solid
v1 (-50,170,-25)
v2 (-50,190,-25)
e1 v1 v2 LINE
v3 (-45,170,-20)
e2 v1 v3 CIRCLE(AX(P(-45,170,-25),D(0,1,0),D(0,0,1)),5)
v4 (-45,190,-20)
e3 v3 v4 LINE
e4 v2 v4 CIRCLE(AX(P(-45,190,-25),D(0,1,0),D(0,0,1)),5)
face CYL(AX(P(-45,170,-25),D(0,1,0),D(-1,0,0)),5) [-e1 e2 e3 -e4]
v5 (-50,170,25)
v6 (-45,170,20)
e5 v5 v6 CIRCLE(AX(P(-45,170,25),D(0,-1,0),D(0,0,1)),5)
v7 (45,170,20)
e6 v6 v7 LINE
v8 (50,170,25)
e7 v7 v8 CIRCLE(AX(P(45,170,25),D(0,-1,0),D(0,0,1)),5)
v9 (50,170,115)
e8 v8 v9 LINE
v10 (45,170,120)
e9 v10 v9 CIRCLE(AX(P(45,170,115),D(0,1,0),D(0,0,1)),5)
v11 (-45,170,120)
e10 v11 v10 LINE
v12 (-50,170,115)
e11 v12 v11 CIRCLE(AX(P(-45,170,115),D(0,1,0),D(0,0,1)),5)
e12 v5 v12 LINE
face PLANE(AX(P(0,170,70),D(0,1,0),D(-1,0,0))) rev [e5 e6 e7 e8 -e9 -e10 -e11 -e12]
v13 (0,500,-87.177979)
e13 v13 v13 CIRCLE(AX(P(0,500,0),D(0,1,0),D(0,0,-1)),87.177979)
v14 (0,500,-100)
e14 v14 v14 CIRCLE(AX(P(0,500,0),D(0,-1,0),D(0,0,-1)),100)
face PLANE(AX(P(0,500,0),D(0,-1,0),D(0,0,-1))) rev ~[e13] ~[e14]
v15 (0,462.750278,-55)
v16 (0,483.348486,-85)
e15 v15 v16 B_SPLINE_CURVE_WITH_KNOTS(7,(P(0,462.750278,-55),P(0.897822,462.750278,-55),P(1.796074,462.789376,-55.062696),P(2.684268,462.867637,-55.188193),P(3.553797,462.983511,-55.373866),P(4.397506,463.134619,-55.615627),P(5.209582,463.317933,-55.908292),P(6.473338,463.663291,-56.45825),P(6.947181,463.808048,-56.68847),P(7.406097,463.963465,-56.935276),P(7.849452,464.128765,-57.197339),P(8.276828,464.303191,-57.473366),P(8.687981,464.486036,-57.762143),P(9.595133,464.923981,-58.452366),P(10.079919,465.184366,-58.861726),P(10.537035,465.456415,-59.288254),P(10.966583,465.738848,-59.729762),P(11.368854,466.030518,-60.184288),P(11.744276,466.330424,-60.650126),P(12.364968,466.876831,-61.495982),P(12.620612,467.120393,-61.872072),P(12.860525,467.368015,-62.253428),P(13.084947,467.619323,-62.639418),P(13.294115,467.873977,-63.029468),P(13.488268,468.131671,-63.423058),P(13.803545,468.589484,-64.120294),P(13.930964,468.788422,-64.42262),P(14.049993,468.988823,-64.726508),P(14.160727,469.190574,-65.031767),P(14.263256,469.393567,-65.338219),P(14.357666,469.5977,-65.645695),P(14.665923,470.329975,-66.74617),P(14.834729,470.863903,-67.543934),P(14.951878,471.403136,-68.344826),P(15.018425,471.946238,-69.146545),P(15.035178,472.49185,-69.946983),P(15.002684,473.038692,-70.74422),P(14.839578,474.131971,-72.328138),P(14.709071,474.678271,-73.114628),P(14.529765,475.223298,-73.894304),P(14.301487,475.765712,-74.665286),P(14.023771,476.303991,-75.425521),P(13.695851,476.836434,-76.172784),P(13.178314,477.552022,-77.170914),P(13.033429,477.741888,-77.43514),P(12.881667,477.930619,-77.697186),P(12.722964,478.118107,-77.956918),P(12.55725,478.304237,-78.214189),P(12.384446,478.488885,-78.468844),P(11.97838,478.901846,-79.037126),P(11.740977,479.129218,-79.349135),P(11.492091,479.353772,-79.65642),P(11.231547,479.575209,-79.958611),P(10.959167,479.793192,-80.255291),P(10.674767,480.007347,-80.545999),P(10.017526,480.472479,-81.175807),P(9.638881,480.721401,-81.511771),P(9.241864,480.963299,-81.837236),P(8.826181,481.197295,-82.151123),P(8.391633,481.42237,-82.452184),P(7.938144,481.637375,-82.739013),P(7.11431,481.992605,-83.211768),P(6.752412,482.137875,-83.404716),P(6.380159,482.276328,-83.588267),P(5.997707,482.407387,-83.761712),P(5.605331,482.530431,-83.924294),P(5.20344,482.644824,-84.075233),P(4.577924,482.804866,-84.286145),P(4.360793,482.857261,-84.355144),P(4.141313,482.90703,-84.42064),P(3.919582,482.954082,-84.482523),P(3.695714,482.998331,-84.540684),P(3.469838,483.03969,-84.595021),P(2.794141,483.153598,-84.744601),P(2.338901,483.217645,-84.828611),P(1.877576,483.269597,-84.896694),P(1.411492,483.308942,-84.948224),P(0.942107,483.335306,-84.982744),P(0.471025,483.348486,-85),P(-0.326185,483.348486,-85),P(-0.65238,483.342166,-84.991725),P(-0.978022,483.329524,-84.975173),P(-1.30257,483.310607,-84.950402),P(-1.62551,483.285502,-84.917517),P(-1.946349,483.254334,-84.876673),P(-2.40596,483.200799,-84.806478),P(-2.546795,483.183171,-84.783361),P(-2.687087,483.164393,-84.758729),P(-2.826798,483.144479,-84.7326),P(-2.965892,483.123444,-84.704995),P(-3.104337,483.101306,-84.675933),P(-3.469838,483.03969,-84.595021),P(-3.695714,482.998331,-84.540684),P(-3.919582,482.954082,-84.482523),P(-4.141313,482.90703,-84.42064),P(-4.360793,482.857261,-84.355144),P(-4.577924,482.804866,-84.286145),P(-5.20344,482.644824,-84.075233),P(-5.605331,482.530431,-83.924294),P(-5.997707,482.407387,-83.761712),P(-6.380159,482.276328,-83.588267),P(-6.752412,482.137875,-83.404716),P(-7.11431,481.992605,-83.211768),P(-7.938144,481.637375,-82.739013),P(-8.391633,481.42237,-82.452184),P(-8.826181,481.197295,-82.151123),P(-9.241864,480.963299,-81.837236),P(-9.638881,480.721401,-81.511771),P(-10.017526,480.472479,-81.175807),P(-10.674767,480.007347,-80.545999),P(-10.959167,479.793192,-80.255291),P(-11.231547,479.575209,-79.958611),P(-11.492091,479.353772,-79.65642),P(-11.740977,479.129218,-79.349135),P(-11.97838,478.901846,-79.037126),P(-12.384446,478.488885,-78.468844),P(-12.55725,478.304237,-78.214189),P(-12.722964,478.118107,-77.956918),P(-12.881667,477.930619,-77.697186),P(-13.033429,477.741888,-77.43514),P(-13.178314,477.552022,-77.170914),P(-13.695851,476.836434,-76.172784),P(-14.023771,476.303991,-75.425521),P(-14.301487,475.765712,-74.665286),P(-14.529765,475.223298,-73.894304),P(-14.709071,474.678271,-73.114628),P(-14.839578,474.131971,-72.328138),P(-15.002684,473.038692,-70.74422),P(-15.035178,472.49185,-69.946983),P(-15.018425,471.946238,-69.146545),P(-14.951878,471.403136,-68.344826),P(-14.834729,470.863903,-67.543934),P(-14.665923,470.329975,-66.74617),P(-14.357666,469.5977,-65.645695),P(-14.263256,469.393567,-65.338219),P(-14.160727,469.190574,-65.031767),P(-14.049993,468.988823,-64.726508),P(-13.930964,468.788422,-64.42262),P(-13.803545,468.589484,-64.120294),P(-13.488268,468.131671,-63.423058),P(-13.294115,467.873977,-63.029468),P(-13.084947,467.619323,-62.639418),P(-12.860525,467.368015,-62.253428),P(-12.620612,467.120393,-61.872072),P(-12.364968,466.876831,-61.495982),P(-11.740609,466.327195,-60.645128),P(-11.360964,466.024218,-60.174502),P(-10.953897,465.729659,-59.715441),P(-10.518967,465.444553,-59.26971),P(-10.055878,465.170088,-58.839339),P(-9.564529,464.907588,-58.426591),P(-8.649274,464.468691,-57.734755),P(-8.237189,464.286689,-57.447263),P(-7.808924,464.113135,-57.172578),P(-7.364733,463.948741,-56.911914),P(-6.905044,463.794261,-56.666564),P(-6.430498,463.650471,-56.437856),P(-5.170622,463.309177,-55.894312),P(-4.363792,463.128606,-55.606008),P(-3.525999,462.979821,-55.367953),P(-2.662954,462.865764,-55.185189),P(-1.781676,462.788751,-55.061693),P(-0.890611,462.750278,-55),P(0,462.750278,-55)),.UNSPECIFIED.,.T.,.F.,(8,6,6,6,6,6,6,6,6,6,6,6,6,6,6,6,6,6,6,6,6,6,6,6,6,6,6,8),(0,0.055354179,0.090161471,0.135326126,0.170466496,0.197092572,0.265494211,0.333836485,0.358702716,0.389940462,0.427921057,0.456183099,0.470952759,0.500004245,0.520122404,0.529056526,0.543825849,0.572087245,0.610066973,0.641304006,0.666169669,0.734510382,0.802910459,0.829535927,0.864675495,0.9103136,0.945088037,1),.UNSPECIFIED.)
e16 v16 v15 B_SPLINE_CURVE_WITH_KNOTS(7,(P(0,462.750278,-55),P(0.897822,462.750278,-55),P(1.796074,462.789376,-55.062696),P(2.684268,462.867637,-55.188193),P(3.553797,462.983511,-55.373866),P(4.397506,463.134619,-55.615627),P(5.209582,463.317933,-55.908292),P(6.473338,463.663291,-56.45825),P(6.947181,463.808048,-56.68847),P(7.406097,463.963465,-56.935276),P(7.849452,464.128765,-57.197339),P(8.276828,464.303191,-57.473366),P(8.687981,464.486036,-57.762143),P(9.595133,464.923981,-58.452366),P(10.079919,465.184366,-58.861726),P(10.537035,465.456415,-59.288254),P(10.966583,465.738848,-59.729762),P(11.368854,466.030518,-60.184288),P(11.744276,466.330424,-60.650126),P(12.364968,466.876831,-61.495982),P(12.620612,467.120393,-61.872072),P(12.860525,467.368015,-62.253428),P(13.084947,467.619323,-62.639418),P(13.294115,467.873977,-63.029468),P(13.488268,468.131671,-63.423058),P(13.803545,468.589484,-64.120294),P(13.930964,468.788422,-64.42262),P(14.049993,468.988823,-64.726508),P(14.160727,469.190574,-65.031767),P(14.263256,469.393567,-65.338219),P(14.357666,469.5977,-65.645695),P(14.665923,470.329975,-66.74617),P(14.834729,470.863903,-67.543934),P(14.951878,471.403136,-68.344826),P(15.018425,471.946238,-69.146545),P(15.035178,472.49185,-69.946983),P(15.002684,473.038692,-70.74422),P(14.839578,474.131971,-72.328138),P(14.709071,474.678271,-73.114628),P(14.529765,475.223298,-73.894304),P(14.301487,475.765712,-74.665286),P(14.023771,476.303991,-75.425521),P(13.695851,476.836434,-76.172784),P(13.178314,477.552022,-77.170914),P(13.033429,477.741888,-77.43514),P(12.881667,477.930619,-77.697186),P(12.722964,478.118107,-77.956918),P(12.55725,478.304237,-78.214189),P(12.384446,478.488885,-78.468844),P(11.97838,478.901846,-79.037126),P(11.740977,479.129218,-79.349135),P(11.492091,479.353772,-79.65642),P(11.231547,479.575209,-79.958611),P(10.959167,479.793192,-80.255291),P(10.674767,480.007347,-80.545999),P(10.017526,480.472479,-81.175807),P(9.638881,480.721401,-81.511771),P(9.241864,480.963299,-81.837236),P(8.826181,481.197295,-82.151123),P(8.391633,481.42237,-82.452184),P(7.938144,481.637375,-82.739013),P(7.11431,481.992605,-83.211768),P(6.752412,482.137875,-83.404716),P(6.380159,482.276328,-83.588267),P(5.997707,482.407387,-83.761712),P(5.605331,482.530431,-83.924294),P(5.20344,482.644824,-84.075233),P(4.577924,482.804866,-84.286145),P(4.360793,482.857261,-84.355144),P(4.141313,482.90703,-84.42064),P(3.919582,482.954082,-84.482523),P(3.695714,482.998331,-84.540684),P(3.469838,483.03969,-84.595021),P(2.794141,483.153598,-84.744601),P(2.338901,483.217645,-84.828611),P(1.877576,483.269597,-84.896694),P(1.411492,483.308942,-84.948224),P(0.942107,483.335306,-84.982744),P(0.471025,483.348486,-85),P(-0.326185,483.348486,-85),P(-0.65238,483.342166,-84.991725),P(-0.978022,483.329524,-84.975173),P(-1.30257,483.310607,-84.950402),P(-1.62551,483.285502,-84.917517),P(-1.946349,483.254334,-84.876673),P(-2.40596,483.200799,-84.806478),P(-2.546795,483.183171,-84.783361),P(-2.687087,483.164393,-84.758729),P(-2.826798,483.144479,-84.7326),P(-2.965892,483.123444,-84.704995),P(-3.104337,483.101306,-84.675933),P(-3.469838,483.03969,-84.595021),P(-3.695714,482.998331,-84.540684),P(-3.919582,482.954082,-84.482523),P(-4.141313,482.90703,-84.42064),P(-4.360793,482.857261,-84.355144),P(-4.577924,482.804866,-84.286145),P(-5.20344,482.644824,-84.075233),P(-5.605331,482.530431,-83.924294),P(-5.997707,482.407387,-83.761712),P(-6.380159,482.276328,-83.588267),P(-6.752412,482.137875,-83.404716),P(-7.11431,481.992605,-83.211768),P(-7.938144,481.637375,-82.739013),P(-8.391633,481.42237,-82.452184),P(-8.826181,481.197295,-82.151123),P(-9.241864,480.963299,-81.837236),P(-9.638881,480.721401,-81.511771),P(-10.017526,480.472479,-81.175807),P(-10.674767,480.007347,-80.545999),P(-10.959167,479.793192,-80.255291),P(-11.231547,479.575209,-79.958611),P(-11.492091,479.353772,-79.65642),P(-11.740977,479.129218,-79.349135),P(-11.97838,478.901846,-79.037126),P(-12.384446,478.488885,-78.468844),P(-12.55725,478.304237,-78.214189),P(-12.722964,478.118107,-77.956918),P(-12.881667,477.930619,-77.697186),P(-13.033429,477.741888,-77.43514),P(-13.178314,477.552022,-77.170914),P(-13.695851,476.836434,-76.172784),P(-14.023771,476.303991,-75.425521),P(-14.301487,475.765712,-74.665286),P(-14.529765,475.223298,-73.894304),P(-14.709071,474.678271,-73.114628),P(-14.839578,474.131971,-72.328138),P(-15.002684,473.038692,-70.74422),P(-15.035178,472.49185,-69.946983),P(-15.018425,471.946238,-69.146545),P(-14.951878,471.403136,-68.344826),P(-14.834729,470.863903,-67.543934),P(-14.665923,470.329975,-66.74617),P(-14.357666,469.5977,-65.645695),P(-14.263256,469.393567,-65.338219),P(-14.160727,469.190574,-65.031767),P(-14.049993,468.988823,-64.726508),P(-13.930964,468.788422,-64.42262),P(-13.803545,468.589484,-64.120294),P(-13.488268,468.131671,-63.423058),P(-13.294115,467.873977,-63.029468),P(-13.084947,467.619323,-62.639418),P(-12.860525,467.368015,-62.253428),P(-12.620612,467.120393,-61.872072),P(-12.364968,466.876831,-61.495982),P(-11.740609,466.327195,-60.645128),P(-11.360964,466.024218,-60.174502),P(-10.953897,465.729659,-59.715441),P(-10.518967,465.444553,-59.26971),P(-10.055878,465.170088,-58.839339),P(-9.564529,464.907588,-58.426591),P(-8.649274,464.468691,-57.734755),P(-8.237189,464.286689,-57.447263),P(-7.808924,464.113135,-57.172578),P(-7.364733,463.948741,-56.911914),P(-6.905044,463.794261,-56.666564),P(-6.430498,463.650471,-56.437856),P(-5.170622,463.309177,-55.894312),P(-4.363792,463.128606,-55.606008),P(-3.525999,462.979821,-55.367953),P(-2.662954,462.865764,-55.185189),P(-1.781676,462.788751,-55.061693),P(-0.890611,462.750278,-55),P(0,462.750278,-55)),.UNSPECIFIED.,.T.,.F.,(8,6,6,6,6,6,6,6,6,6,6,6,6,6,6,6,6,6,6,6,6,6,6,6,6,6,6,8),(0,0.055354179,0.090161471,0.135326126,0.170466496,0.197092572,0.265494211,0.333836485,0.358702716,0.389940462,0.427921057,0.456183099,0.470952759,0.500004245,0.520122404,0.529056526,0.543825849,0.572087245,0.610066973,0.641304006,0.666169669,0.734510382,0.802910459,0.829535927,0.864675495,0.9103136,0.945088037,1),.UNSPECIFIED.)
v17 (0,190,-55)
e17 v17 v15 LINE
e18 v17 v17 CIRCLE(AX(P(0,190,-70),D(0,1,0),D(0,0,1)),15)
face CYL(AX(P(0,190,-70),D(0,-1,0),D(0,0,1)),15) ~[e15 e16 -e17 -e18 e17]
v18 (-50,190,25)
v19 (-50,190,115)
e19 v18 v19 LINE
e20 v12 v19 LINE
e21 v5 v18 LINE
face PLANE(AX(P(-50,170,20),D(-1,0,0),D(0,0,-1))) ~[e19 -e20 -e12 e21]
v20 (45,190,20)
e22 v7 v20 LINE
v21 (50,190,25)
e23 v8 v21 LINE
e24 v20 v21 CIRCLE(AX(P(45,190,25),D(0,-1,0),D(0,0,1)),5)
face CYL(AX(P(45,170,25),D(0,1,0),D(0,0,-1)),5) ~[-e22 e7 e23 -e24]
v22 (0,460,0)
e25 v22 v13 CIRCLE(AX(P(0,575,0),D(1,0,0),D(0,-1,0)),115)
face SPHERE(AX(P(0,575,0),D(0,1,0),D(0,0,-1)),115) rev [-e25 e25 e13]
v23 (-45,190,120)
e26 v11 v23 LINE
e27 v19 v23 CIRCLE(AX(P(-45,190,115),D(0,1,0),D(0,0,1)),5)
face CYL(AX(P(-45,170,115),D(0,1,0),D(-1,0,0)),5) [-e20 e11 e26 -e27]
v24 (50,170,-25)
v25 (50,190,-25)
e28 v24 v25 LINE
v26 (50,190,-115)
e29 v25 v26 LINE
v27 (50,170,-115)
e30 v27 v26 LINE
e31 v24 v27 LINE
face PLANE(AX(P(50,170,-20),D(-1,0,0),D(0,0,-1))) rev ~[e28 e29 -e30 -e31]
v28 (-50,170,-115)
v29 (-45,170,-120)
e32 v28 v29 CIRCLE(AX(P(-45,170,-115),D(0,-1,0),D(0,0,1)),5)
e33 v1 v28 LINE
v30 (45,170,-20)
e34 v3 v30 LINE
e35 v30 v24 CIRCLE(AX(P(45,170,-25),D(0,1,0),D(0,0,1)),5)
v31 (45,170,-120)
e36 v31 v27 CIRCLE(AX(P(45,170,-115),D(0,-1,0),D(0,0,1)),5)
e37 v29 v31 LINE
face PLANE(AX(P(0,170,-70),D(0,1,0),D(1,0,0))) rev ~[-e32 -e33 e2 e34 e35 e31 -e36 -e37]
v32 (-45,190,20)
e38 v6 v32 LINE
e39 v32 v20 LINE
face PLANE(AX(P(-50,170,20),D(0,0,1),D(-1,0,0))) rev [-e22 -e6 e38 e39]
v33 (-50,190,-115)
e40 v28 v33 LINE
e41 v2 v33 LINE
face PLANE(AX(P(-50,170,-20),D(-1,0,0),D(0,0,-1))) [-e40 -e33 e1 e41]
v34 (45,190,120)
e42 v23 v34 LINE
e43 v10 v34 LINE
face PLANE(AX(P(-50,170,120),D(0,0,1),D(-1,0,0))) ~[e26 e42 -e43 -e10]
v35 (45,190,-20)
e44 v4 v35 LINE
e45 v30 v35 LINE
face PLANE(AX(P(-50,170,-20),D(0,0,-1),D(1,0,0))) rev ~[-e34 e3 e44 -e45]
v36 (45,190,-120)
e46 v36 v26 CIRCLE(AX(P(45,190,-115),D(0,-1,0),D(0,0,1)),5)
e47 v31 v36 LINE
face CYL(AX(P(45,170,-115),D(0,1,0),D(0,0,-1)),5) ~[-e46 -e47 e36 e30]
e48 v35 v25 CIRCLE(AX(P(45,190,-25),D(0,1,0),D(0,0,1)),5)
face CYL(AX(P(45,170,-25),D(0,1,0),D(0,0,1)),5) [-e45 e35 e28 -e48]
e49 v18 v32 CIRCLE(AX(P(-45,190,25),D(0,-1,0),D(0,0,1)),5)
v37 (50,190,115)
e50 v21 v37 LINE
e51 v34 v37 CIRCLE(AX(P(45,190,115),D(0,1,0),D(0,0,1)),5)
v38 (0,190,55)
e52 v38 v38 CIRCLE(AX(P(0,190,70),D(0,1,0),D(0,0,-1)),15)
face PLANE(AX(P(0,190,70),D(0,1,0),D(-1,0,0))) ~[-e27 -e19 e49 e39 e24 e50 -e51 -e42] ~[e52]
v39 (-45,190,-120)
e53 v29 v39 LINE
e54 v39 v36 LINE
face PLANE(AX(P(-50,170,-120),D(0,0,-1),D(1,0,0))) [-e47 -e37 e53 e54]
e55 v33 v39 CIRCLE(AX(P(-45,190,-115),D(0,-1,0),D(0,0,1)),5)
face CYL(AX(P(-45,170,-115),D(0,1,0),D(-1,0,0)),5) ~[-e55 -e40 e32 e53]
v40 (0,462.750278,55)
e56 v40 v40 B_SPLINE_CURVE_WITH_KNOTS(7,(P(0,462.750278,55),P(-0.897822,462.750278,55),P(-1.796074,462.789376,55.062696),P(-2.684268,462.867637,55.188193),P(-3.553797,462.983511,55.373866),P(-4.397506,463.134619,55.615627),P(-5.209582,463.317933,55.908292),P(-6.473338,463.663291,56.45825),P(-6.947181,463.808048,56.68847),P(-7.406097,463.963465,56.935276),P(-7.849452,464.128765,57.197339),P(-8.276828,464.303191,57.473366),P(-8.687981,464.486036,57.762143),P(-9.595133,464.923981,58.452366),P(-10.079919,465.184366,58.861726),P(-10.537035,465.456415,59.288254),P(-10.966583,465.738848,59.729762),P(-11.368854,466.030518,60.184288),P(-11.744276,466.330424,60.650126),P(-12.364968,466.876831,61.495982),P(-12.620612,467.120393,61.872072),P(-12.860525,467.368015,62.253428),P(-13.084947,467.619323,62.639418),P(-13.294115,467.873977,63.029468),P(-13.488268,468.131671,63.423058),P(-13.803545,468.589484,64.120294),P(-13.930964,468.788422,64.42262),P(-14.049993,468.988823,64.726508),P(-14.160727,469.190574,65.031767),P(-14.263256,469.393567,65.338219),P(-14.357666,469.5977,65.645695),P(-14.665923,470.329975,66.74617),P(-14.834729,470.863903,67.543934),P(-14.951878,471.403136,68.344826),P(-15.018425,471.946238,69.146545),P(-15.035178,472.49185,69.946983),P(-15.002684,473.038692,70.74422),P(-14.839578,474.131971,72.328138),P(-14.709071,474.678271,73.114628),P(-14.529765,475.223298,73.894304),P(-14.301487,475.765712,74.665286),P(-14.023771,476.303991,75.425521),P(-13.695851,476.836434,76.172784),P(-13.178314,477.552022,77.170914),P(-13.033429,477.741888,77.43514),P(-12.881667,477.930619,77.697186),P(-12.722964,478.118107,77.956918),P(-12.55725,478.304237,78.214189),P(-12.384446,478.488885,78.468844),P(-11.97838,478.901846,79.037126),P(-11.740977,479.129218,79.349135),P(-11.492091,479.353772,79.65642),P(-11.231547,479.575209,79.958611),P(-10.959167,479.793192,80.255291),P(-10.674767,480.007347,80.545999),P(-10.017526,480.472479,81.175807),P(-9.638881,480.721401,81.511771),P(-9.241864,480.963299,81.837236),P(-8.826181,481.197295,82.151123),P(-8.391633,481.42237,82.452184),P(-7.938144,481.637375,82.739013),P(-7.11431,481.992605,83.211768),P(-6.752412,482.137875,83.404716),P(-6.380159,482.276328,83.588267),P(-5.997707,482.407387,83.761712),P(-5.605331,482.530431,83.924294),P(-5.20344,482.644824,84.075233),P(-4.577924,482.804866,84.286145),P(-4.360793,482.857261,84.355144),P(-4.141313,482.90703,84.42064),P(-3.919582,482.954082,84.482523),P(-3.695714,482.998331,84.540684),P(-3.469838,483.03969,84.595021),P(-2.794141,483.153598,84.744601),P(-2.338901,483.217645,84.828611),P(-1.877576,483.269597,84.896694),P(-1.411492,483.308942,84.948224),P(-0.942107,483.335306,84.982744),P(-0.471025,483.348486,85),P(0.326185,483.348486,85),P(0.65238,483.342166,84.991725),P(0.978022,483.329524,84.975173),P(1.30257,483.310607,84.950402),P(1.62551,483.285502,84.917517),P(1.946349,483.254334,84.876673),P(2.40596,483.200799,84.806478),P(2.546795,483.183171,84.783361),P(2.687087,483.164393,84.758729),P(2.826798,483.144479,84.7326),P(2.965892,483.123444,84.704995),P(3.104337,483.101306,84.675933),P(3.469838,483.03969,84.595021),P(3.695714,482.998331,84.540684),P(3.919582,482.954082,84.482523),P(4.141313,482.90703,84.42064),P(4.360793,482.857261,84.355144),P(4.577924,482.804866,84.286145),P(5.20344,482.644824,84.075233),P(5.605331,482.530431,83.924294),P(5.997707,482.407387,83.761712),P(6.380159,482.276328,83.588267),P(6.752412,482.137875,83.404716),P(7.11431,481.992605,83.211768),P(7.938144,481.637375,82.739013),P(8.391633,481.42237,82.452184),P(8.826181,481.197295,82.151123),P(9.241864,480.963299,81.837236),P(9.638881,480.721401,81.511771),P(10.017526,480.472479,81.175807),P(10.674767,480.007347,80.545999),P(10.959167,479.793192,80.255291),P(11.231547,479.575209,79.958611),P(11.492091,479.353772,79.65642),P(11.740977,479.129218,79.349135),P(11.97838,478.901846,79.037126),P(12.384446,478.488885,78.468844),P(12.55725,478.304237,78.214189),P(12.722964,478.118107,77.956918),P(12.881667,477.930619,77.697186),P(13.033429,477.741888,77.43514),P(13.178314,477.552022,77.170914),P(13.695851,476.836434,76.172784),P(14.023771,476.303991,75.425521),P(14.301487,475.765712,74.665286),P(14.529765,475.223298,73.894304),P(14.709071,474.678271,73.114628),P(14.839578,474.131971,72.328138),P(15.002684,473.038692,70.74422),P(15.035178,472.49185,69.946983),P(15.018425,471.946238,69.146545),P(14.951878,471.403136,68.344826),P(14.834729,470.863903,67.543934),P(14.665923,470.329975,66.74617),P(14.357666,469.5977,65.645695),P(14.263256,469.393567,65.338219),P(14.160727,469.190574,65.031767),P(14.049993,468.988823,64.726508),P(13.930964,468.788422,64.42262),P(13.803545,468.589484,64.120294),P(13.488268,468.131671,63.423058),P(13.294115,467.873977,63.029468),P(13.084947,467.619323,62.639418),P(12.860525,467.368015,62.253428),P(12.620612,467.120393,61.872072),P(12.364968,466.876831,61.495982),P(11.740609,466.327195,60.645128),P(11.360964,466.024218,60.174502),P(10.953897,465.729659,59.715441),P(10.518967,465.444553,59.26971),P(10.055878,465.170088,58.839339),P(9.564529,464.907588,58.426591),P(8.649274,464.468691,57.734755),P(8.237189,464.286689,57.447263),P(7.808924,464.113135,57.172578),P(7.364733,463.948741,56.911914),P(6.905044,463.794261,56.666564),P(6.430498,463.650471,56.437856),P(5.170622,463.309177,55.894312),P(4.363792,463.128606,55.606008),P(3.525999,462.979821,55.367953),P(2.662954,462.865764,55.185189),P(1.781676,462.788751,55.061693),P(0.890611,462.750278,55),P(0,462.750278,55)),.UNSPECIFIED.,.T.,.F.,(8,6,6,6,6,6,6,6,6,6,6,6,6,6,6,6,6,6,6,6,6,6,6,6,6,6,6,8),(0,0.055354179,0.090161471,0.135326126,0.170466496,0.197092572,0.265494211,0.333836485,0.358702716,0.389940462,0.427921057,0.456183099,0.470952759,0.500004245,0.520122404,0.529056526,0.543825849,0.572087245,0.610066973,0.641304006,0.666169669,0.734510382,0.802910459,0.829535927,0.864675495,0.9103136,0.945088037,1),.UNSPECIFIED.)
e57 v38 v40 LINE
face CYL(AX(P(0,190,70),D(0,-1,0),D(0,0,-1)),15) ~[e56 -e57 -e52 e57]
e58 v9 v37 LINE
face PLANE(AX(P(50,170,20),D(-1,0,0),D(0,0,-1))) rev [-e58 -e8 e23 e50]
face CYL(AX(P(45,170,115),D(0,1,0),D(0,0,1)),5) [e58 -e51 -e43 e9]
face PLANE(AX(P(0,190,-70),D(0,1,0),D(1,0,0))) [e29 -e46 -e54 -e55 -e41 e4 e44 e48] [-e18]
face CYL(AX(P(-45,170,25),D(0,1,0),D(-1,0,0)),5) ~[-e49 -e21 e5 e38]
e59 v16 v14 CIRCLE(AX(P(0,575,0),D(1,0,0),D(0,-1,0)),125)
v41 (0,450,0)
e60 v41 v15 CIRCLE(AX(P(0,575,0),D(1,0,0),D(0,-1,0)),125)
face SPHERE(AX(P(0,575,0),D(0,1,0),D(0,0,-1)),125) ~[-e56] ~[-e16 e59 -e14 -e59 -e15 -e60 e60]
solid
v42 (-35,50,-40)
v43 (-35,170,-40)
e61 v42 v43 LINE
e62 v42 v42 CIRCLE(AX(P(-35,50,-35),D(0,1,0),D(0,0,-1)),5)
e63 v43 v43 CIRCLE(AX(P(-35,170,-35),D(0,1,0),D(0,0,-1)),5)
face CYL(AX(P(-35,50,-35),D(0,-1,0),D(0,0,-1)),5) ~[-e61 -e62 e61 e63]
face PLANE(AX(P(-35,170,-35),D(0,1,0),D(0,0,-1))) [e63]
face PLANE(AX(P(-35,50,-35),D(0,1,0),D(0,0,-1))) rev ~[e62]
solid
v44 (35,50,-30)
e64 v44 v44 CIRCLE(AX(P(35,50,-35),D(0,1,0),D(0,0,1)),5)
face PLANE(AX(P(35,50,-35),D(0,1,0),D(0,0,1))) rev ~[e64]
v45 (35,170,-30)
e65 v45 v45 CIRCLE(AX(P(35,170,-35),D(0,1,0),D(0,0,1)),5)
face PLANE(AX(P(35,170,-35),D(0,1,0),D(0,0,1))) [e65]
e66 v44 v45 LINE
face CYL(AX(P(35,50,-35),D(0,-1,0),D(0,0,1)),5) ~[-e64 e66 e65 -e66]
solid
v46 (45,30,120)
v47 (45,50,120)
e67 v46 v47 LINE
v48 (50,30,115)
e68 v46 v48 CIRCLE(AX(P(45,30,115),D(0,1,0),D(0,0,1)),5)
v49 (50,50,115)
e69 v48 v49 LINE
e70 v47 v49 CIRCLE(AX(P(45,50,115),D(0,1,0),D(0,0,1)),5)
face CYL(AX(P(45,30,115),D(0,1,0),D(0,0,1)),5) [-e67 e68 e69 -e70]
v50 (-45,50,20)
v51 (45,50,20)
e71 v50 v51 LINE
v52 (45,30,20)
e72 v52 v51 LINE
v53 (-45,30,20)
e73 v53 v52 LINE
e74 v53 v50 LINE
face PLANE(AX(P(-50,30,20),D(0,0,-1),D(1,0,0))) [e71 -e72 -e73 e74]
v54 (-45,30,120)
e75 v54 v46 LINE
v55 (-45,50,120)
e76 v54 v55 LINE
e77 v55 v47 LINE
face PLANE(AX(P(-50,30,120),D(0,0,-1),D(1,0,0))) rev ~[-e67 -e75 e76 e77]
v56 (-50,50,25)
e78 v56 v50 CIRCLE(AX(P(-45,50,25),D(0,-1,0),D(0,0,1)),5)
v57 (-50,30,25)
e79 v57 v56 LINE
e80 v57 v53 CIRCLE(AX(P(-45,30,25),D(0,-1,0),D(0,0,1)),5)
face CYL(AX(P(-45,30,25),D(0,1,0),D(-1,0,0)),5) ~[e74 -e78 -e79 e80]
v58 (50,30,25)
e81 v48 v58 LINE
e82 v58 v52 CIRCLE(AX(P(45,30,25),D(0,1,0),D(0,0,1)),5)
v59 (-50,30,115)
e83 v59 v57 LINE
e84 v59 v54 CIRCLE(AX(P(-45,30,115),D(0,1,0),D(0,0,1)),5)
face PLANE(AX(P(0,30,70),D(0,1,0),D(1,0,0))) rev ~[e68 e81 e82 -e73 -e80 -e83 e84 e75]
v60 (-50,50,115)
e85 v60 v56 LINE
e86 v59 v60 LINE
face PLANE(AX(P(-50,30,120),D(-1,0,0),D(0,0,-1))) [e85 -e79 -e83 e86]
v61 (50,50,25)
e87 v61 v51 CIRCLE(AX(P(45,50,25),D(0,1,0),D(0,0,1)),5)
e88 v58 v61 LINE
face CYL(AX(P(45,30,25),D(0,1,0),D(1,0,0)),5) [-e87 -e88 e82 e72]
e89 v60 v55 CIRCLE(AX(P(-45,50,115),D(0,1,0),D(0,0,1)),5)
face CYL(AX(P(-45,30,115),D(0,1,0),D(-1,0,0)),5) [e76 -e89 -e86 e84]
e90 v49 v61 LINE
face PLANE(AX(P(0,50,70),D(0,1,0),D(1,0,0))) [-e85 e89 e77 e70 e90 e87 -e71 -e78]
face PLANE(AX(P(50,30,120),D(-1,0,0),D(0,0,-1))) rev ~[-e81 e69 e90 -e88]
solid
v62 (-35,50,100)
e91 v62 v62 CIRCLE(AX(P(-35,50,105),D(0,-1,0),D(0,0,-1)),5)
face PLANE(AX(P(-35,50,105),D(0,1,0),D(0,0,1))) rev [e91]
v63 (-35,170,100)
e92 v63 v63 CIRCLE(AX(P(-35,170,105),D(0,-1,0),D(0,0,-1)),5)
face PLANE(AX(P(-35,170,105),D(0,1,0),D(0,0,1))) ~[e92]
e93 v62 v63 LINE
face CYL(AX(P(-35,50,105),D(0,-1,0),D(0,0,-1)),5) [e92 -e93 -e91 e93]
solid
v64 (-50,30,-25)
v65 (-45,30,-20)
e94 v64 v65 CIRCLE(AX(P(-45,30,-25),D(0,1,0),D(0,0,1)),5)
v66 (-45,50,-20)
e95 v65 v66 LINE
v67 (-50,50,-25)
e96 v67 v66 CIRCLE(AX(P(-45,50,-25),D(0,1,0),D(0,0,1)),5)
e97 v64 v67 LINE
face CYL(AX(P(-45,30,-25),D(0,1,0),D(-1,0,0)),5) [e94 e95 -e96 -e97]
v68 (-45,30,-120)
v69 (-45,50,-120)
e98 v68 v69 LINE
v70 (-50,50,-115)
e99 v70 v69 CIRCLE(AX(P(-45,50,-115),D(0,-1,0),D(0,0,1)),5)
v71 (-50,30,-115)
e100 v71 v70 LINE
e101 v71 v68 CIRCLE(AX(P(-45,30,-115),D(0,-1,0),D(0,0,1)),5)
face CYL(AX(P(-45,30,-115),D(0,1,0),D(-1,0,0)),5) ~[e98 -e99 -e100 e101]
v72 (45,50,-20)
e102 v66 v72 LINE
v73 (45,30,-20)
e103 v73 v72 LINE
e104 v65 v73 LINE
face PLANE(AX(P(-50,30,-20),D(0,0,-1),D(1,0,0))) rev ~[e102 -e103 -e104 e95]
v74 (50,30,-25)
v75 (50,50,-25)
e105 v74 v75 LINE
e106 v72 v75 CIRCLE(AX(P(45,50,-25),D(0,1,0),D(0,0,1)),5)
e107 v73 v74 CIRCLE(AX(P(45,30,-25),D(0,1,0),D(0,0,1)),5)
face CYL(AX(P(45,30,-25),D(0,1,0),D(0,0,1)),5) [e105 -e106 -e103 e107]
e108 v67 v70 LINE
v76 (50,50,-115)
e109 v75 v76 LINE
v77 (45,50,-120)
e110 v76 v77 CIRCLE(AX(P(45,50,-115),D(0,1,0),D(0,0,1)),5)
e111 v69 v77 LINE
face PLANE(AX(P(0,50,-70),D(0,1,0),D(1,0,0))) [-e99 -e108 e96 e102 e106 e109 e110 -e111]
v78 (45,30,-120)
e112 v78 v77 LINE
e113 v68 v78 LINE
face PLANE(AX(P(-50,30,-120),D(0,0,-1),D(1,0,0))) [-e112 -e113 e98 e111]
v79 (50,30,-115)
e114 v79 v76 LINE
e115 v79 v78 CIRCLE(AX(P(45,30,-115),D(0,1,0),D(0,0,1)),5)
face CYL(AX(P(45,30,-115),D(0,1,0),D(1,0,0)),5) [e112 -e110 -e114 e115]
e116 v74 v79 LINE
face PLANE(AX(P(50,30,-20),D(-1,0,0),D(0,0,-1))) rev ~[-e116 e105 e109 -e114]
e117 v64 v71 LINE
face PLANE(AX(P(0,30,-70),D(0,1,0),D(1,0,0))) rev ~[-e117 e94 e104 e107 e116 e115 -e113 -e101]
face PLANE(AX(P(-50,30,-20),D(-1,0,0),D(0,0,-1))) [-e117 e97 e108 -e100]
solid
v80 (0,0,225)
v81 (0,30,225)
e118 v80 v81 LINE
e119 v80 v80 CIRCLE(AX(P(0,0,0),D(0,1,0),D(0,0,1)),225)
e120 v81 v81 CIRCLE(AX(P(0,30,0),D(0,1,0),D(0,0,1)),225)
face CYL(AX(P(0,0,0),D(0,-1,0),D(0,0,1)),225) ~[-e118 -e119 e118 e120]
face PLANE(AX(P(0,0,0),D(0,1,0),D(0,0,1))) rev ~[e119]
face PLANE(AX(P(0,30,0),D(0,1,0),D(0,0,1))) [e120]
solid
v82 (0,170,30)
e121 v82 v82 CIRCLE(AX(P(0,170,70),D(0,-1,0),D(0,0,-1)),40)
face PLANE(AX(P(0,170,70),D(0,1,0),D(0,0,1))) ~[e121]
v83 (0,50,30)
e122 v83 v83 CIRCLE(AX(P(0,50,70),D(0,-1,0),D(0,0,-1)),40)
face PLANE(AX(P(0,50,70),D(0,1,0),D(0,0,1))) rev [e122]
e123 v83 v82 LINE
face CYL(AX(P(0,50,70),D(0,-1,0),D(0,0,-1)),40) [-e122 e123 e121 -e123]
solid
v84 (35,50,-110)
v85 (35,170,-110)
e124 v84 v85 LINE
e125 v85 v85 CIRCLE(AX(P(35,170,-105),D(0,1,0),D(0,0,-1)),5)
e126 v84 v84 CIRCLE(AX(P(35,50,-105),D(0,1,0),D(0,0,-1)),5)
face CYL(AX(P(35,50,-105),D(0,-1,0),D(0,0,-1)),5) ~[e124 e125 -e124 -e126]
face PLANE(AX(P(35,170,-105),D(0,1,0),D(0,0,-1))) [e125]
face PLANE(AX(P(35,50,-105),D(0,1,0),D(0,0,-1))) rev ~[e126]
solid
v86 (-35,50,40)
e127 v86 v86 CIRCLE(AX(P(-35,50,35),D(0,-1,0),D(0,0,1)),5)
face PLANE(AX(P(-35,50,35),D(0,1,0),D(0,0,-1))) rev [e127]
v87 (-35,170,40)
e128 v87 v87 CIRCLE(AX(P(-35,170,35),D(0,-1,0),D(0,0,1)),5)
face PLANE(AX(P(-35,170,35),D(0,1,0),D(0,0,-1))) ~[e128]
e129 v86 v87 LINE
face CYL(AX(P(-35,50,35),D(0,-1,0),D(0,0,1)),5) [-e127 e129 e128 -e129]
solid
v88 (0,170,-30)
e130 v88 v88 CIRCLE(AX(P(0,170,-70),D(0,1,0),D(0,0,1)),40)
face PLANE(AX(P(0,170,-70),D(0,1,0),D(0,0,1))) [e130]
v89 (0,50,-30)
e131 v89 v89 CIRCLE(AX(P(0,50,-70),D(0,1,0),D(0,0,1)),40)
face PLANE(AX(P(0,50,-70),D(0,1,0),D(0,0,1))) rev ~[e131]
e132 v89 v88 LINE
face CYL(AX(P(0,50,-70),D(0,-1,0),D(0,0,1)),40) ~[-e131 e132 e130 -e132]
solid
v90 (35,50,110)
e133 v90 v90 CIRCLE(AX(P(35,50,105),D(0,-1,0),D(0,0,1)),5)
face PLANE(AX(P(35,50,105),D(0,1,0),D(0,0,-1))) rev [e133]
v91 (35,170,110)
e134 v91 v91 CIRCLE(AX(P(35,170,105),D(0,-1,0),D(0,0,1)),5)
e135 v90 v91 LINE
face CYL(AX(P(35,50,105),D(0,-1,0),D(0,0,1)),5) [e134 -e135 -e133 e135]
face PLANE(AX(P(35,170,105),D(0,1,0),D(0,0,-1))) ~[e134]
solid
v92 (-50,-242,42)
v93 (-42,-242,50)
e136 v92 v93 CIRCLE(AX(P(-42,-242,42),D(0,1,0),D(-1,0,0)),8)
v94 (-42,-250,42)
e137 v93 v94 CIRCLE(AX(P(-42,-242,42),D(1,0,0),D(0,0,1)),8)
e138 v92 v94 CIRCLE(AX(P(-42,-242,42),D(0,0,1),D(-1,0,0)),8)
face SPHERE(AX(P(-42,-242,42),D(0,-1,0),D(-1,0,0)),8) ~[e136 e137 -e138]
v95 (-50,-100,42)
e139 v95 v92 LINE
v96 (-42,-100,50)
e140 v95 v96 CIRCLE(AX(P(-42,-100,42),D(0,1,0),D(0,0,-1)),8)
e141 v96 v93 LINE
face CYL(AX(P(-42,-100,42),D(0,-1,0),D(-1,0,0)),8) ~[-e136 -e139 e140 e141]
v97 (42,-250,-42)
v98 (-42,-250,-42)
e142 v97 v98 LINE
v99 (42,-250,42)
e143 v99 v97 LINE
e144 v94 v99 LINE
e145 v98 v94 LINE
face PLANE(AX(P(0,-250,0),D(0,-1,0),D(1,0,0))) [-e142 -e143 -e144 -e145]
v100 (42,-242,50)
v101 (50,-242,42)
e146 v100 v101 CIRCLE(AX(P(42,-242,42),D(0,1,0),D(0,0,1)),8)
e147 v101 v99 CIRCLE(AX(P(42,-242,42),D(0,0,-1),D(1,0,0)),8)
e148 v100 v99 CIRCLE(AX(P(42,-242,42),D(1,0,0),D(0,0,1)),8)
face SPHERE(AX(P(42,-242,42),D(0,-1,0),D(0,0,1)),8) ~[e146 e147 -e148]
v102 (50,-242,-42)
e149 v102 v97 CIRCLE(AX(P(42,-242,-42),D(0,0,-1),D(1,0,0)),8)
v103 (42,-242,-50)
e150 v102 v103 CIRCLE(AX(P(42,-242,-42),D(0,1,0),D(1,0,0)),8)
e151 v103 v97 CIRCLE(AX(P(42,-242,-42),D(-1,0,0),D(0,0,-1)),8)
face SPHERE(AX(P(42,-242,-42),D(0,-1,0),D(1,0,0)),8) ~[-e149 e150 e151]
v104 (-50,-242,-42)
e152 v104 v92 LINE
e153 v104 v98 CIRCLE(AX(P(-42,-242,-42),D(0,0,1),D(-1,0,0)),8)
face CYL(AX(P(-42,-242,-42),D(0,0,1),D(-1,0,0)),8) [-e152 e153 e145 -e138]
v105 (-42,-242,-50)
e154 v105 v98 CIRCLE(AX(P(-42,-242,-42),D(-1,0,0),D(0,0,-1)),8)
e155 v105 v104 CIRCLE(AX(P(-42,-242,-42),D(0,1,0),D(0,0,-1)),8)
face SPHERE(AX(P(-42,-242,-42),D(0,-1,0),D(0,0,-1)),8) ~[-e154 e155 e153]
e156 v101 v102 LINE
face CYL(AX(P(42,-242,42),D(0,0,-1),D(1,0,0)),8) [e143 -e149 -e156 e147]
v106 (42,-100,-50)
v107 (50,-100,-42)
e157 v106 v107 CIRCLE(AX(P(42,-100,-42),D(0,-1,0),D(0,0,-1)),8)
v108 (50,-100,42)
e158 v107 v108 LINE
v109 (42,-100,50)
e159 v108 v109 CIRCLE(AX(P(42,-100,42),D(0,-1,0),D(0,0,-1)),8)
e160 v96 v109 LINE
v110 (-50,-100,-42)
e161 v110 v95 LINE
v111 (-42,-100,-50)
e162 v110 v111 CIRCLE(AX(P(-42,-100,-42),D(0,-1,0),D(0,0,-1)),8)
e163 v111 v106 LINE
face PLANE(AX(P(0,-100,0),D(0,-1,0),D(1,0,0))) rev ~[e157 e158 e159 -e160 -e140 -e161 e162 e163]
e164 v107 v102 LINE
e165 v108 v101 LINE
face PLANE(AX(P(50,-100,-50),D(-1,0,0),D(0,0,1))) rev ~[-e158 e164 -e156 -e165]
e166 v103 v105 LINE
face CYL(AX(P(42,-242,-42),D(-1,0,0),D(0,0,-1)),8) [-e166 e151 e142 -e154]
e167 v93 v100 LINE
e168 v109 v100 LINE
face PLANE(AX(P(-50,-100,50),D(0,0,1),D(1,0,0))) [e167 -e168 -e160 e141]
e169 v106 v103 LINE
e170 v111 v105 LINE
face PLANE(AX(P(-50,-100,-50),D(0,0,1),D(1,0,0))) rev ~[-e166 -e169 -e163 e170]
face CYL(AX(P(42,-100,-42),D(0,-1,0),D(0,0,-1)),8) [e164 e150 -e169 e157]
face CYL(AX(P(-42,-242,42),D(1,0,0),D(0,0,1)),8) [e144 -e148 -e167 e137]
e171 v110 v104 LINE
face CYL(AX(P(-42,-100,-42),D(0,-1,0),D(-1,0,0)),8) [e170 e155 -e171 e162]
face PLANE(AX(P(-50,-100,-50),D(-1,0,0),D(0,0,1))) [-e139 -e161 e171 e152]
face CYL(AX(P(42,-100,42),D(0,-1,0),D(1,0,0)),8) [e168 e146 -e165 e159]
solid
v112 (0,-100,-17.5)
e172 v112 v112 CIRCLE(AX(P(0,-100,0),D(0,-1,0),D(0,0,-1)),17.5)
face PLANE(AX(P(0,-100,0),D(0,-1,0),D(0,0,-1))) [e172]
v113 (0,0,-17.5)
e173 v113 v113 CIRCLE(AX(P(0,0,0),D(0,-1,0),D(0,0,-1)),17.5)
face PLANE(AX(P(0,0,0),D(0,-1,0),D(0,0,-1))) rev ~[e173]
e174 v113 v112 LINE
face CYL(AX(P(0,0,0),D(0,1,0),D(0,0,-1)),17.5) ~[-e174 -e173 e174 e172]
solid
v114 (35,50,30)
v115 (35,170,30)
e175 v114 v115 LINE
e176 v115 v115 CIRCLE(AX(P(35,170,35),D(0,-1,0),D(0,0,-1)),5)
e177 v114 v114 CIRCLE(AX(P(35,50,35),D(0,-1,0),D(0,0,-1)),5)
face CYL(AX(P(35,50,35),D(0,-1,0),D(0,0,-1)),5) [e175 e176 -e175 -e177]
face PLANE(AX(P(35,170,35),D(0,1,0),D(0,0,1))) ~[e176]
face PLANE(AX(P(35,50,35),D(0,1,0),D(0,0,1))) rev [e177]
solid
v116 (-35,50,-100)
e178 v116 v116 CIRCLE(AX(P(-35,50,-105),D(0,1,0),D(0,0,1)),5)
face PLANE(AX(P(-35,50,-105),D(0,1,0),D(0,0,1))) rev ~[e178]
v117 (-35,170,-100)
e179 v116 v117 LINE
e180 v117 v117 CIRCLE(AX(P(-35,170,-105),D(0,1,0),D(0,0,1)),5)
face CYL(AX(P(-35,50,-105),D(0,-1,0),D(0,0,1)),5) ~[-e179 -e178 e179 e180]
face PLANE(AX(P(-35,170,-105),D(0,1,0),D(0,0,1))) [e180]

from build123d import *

# Parameters (mm, degrees)
SKETCH1_R                = 225
BOSS_EXTRUDE1_DEPTH      = 30
SHELL1_T                 = -10
SKETCH8_W                = 100
SKETCH8_H                = 100
BOSS_EXTRUDE2_DEPTH      = 20
BOSS_EXTRUDE2_2_DEPTH    = 20
SKETCH9_R                = 17.5
BOSS_EXTRUDE3_DEPTH      = 100
SKETCH11_W               = 100
SKETCH11_H               = 100
BOSS_EXTRUDE4_DEPTH      = 150
FILLET1_R                = 8
FILLET2_R                = 8
SKETCH14_R               = 40
BOSS_EXTRUDE6_DEPTH      = 120
SKETCH15_W               = 100
SKETCH15_H               = 100
BOSS_EXTRUDE7_DEPTH      = 20
BOSS_EXTRUDE8_REACH      = 545.001
BOSS_EXTRUDE8_END_RADIUS = 125
SKETCH16_R               = 15
FILLET3_R                = 5
FILLET4_R                = 5
FILLET5_R                = 5
SKETCH17_R               = 5
BOSS_EXTRUDE9_DEPTH      = 120
BOSS_EXTRUDE9_2_DEPTH    = 120
BOSS_EXTRUDE9_3_DEPTH    = 120
BOSS_EXTRUDE9_4_DEPTH    = 120


with BuildPart() as part:
    # Sketch1 → Boss-Extrude1 (new body)
    with BuildSketch(Plane(origin=(0, 0, 0), x_dir=(1, 0, 0), z_dir=(0, 1, 0))):
        with Locations(Location((0, 0, 0), (0, 0, 270))):
            Circle(SKETCH1_R)
    extrude(amount=BOSS_EXTRUDE1_DEPTH)


with BuildPart() as body_2:
    # Sketch7 → Revolve1 (revolve)
    with BuildSketch(Plane(origin=(0, 0, 0), x_dir=(0, 0, -1), z_dir=(1, 0, 0))):
        with BuildLine():
            Line((100, 500), (0, 500))
            Line((0, 500), (0, 450))
            ThreePointArc((0, 450), (55.901699437, 463.196601125), (100, 500))
        make_face()
    revolve(axis=Axis((0, 500, 0), (0, -1, 0)))

    # Shell1
    shell1_openings = [body_2.faces().sort_by_distance(p)[0] for p in [
        (0, 500, 0),
    ]]
    offset(amount=SHELL1_T, openings=shell1_openings, kind=Kind.INTERSECTION)



with BuildPart() as body_3:
    # Sketch8 → Boss-Extrude2 (new body)
    with BuildSketch(Plane(origin=(0, 30, 0), x_dir=(1, 0, 0), z_dir=(0, 1, 0))):
        with Locations((0, 70)):
            Rectangle(SKETCH8_W, SKETCH8_H)
    extrude(amount=BOSS_EXTRUDE2_DEPTH)

    # Fillet4
    fillet4_edges = [body_3.edges().sort_by_distance(p)[0] for p in [
        (50, 40, -20),
        (-50, 40, -20),
        (-50, 40, -120),
        (50, 40, -120),
    ]]
    fillet(fillet4_edges, radius=FILLET4_R)


with BuildPart() as body_4:
    # Sketch8 → Boss-Extrude2 2 (new body)
    with BuildSketch(Plane(origin=(0, 30, 0), x_dir=(1, 0, 0), z_dir=(0, 1, 0))):
        with Locations((0, -70)):
            Rectangle(SKETCH8_W, SKETCH8_H)
    extrude(amount=BOSS_EXTRUDE2_2_DEPTH)

    # Fillet5
    fillet5_edges = [body_4.edges().sort_by_distance(p)[0] for p in [
        (-50, 40, 20),
        (50, 40, 20),
        (50, 40, 120),
        (-50, 40, 120),
    ]]
    fillet(fillet5_edges, radius=FILLET5_R)


with BuildPart() as body_5:
    # Sketch9 → Boss-Extrude3 (new body)
    with BuildSketch(Plane.XZ):
        with Locations(Location((0, 0, 0), (0, 0, 270))):
            Circle(SKETCH9_R)
    extrude(amount=BOSS_EXTRUDE3_DEPTH)


with BuildPart() as body_6:
    # Sketch11 → Boss-Extrude4 (new body)
    with BuildSketch(Plane.XZ.offset(100)):
        Rectangle(SKETCH11_W, SKETCH11_H)
    extrude(amount=BOSS_EXTRUDE4_DEPTH)

    # Fillet1
    fillet1_edges = [body_6.edges().sort_by_distance(p)[0] for p in [
        (50, -175, -50),
        (-50, -175, -50),
        (-50, -175, 50),
        (50, -175, 50),
    ]]
    fillet(fillet1_edges, radius=FILLET1_R)

    # Fillet2
    fillet2_edges = [body_6.edges().sort_by_distance(p)[0] for p in [
        (-50, -250, 0),
        (0, -250, 50),
        (50, -250, 0),
        (0, -250, -50),
        (47.656854249, -250, 47.656854249),
        (47.656854249, -250, -47.656854249),
        (-47.656854249, -250, -47.656854249),
        (-47.656854249, -250, 47.656854249),
    ]]
    fillet(fillet2_edges, radius=FILLET2_R)


with BuildPart() as body_7:
    # Sketch14 → Boss-Extrude6 (new body)
    with BuildSketch(Plane(origin=(0, 50, 0), x_dir=(1, 0, 0), z_dir=(0, 1, 0))):
        with Locations(Location((0, 70, 0), (0, 0, 270))):
            Circle(SKETCH14_R)
    extrude(amount=BOSS_EXTRUDE6_DEPTH)


with BuildPart() as body_8:
    # Sketch15 → Boss-Extrude7 (new body)
    with BuildSketch(Plane(origin=(0, 170, 0), x_dir=(1, 0, 0), z_dir=(0, 1, 0))):
        with Locations((0, 70)):
            Rectangle(SKETCH15_W, SKETCH15_H)
    extrude(amount=BOSS_EXTRUDE7_DEPTH)


with BuildPart() as body_9:
    # Mirror1: mirrored copy
    add(body_8.part.mirror(Plane.XY))


with BuildPart() as body_10:
    # Mirror1 2: mirrored copy
    add(body_7.part.mirror(Plane.XY))


with BuildPart() as body_2_1:
    add(body_2.part)

    add(body_8.part)  # Boss-Extrude8 merges body 8

    add(body_9.part)  # Boss-Extrude8 merges body 9
    # Boss-Extrude8: up to this sphere (the profile starts outside it)
    boss_extrude8_end = Location((0, 575, 0)) * Sphere(BOSS_EXTRUDE8_END_RADIUS, mode=Mode.PRIVATE)
    # Sketch16 → Boss-Extrude8 (add, up to the surface)
    with BuildSketch(Plane(origin=(0, 190, 0), x_dir=(1, 0, 0), z_dir=(0, 1, 0)), mode=Mode.PRIVATE) as boss_extrude8_sk1:
        with Locations(Location((0, 70, 0), (0, 0, 270))):
            Circle(SKETCH16_R)
    boss_extrude8_tool1 = extrude(boss_extrude8_sk1.sketch, amount=BOSS_EXTRUDE8_REACH, mode=Mode.PRIVATE) - boss_extrude8_end
    add(boss_extrude8_tool1.solids().sort_by_distance((0, 190, -70))[0])
    # Sketch16 → Boss-Extrude8 (add, up to the surface)
    with BuildSketch(Plane(origin=(0, 190, 0), x_dir=(1, 0, 0), z_dir=(0, 1, 0)), mode=Mode.PRIVATE) as boss_extrude8_sk2:
        with Locations(Location((0, -70, 0), (0, 0, 90))):
            Circle(SKETCH16_R)
    boss_extrude8_tool2 = extrude(boss_extrude8_sk2.sketch, amount=BOSS_EXTRUDE8_REACH, mode=Mode.PRIVATE) - boss_extrude8_end
    add(boss_extrude8_tool2.solids().sort_by_distance((0, 190, 70))[0])

    # Fillet3
    fillet3_edges = [body_2_1.edges().sort_by_distance(p)[0] for p in [
        (-50, 180, -120),
        (-50, 180, -20),
        (50, 180, -20),
        (50, 180, -120),
        (-50, 180, 20),
        (50, 180, 20),
        (50, 180, 120),
        (-50, 180, 120),
    ]]
    fillet(fillet3_edges, radius=FILLET3_R)


with BuildPart() as body_9_2:
    # Sketch17 → Boss-Extrude9 (new body)
    with BuildSketch(Plane(origin=(0, 50, 0), x_dir=(1, 0, 0), z_dir=(0, 1, 0))):
        with Locations(Location((-35, 105, 0), (0, 0, 270))):
            Circle(SKETCH17_R)
    extrude(amount=BOSS_EXTRUDE9_DEPTH)


with BuildPart() as body_10_2:
    # Sketch17 → Boss-Extrude9 2 (new body)
    with BuildSketch(Plane(origin=(0, 50, 0), x_dir=(1, 0, 0), z_dir=(0, 1, 0))):
        with Locations(Location((35, 105, 0), (0, 0, 90))):
            Circle(SKETCH17_R)
    extrude(amount=BOSS_EXTRUDE9_2_DEPTH)


with BuildPart() as body_11:
    # Sketch17 → Boss-Extrude9 3 (new body)
    with BuildSketch(Plane(origin=(0, 50, 0), x_dir=(1, 0, 0), z_dir=(0, 1, 0))):
        with Locations(Location((35, 35, 0), (0, 0, 270))):
            Circle(SKETCH17_R)
    extrude(amount=BOSS_EXTRUDE9_3_DEPTH)


with BuildPart() as body_12:
    # Sketch17 → Boss-Extrude9 4 (new body)
    with BuildSketch(Plane(origin=(0, 50, 0), x_dir=(1, 0, 0), z_dir=(0, 1, 0))):
        with Locations(Location((-35, 35, 0), (0, 0, 90))):
            Circle(SKETCH17_R)
    extrude(amount=BOSS_EXTRUDE9_4_DEPTH)


with BuildPart() as body_13:
    # Mirror3: mirrored copy
    add(body_9_2.part.mirror(Plane.XY))


with BuildPart() as body_14:
    # Mirror3 2: mirrored copy
    add(body_12.part.mirror(Plane.XY))


with BuildPart() as body_15:
    # Mirror3 3: mirrored copy
    add(body_11.part.mirror(Plane.XY))


with BuildPart() as body_16:
    # Mirror3 4: mirrored copy
    add(body_10_2.part.mirror(Plane.XY))


solid = Compound([part.part, body_3.part, body_4.part, body_5.part, body_6.part, body_7.part, body_10.part, body_2_1.part, body_9_2.part, body_10_2.part, body_11.part, body_12.part, body_13.part, body_14.part, body_15.part, body_16.part])
